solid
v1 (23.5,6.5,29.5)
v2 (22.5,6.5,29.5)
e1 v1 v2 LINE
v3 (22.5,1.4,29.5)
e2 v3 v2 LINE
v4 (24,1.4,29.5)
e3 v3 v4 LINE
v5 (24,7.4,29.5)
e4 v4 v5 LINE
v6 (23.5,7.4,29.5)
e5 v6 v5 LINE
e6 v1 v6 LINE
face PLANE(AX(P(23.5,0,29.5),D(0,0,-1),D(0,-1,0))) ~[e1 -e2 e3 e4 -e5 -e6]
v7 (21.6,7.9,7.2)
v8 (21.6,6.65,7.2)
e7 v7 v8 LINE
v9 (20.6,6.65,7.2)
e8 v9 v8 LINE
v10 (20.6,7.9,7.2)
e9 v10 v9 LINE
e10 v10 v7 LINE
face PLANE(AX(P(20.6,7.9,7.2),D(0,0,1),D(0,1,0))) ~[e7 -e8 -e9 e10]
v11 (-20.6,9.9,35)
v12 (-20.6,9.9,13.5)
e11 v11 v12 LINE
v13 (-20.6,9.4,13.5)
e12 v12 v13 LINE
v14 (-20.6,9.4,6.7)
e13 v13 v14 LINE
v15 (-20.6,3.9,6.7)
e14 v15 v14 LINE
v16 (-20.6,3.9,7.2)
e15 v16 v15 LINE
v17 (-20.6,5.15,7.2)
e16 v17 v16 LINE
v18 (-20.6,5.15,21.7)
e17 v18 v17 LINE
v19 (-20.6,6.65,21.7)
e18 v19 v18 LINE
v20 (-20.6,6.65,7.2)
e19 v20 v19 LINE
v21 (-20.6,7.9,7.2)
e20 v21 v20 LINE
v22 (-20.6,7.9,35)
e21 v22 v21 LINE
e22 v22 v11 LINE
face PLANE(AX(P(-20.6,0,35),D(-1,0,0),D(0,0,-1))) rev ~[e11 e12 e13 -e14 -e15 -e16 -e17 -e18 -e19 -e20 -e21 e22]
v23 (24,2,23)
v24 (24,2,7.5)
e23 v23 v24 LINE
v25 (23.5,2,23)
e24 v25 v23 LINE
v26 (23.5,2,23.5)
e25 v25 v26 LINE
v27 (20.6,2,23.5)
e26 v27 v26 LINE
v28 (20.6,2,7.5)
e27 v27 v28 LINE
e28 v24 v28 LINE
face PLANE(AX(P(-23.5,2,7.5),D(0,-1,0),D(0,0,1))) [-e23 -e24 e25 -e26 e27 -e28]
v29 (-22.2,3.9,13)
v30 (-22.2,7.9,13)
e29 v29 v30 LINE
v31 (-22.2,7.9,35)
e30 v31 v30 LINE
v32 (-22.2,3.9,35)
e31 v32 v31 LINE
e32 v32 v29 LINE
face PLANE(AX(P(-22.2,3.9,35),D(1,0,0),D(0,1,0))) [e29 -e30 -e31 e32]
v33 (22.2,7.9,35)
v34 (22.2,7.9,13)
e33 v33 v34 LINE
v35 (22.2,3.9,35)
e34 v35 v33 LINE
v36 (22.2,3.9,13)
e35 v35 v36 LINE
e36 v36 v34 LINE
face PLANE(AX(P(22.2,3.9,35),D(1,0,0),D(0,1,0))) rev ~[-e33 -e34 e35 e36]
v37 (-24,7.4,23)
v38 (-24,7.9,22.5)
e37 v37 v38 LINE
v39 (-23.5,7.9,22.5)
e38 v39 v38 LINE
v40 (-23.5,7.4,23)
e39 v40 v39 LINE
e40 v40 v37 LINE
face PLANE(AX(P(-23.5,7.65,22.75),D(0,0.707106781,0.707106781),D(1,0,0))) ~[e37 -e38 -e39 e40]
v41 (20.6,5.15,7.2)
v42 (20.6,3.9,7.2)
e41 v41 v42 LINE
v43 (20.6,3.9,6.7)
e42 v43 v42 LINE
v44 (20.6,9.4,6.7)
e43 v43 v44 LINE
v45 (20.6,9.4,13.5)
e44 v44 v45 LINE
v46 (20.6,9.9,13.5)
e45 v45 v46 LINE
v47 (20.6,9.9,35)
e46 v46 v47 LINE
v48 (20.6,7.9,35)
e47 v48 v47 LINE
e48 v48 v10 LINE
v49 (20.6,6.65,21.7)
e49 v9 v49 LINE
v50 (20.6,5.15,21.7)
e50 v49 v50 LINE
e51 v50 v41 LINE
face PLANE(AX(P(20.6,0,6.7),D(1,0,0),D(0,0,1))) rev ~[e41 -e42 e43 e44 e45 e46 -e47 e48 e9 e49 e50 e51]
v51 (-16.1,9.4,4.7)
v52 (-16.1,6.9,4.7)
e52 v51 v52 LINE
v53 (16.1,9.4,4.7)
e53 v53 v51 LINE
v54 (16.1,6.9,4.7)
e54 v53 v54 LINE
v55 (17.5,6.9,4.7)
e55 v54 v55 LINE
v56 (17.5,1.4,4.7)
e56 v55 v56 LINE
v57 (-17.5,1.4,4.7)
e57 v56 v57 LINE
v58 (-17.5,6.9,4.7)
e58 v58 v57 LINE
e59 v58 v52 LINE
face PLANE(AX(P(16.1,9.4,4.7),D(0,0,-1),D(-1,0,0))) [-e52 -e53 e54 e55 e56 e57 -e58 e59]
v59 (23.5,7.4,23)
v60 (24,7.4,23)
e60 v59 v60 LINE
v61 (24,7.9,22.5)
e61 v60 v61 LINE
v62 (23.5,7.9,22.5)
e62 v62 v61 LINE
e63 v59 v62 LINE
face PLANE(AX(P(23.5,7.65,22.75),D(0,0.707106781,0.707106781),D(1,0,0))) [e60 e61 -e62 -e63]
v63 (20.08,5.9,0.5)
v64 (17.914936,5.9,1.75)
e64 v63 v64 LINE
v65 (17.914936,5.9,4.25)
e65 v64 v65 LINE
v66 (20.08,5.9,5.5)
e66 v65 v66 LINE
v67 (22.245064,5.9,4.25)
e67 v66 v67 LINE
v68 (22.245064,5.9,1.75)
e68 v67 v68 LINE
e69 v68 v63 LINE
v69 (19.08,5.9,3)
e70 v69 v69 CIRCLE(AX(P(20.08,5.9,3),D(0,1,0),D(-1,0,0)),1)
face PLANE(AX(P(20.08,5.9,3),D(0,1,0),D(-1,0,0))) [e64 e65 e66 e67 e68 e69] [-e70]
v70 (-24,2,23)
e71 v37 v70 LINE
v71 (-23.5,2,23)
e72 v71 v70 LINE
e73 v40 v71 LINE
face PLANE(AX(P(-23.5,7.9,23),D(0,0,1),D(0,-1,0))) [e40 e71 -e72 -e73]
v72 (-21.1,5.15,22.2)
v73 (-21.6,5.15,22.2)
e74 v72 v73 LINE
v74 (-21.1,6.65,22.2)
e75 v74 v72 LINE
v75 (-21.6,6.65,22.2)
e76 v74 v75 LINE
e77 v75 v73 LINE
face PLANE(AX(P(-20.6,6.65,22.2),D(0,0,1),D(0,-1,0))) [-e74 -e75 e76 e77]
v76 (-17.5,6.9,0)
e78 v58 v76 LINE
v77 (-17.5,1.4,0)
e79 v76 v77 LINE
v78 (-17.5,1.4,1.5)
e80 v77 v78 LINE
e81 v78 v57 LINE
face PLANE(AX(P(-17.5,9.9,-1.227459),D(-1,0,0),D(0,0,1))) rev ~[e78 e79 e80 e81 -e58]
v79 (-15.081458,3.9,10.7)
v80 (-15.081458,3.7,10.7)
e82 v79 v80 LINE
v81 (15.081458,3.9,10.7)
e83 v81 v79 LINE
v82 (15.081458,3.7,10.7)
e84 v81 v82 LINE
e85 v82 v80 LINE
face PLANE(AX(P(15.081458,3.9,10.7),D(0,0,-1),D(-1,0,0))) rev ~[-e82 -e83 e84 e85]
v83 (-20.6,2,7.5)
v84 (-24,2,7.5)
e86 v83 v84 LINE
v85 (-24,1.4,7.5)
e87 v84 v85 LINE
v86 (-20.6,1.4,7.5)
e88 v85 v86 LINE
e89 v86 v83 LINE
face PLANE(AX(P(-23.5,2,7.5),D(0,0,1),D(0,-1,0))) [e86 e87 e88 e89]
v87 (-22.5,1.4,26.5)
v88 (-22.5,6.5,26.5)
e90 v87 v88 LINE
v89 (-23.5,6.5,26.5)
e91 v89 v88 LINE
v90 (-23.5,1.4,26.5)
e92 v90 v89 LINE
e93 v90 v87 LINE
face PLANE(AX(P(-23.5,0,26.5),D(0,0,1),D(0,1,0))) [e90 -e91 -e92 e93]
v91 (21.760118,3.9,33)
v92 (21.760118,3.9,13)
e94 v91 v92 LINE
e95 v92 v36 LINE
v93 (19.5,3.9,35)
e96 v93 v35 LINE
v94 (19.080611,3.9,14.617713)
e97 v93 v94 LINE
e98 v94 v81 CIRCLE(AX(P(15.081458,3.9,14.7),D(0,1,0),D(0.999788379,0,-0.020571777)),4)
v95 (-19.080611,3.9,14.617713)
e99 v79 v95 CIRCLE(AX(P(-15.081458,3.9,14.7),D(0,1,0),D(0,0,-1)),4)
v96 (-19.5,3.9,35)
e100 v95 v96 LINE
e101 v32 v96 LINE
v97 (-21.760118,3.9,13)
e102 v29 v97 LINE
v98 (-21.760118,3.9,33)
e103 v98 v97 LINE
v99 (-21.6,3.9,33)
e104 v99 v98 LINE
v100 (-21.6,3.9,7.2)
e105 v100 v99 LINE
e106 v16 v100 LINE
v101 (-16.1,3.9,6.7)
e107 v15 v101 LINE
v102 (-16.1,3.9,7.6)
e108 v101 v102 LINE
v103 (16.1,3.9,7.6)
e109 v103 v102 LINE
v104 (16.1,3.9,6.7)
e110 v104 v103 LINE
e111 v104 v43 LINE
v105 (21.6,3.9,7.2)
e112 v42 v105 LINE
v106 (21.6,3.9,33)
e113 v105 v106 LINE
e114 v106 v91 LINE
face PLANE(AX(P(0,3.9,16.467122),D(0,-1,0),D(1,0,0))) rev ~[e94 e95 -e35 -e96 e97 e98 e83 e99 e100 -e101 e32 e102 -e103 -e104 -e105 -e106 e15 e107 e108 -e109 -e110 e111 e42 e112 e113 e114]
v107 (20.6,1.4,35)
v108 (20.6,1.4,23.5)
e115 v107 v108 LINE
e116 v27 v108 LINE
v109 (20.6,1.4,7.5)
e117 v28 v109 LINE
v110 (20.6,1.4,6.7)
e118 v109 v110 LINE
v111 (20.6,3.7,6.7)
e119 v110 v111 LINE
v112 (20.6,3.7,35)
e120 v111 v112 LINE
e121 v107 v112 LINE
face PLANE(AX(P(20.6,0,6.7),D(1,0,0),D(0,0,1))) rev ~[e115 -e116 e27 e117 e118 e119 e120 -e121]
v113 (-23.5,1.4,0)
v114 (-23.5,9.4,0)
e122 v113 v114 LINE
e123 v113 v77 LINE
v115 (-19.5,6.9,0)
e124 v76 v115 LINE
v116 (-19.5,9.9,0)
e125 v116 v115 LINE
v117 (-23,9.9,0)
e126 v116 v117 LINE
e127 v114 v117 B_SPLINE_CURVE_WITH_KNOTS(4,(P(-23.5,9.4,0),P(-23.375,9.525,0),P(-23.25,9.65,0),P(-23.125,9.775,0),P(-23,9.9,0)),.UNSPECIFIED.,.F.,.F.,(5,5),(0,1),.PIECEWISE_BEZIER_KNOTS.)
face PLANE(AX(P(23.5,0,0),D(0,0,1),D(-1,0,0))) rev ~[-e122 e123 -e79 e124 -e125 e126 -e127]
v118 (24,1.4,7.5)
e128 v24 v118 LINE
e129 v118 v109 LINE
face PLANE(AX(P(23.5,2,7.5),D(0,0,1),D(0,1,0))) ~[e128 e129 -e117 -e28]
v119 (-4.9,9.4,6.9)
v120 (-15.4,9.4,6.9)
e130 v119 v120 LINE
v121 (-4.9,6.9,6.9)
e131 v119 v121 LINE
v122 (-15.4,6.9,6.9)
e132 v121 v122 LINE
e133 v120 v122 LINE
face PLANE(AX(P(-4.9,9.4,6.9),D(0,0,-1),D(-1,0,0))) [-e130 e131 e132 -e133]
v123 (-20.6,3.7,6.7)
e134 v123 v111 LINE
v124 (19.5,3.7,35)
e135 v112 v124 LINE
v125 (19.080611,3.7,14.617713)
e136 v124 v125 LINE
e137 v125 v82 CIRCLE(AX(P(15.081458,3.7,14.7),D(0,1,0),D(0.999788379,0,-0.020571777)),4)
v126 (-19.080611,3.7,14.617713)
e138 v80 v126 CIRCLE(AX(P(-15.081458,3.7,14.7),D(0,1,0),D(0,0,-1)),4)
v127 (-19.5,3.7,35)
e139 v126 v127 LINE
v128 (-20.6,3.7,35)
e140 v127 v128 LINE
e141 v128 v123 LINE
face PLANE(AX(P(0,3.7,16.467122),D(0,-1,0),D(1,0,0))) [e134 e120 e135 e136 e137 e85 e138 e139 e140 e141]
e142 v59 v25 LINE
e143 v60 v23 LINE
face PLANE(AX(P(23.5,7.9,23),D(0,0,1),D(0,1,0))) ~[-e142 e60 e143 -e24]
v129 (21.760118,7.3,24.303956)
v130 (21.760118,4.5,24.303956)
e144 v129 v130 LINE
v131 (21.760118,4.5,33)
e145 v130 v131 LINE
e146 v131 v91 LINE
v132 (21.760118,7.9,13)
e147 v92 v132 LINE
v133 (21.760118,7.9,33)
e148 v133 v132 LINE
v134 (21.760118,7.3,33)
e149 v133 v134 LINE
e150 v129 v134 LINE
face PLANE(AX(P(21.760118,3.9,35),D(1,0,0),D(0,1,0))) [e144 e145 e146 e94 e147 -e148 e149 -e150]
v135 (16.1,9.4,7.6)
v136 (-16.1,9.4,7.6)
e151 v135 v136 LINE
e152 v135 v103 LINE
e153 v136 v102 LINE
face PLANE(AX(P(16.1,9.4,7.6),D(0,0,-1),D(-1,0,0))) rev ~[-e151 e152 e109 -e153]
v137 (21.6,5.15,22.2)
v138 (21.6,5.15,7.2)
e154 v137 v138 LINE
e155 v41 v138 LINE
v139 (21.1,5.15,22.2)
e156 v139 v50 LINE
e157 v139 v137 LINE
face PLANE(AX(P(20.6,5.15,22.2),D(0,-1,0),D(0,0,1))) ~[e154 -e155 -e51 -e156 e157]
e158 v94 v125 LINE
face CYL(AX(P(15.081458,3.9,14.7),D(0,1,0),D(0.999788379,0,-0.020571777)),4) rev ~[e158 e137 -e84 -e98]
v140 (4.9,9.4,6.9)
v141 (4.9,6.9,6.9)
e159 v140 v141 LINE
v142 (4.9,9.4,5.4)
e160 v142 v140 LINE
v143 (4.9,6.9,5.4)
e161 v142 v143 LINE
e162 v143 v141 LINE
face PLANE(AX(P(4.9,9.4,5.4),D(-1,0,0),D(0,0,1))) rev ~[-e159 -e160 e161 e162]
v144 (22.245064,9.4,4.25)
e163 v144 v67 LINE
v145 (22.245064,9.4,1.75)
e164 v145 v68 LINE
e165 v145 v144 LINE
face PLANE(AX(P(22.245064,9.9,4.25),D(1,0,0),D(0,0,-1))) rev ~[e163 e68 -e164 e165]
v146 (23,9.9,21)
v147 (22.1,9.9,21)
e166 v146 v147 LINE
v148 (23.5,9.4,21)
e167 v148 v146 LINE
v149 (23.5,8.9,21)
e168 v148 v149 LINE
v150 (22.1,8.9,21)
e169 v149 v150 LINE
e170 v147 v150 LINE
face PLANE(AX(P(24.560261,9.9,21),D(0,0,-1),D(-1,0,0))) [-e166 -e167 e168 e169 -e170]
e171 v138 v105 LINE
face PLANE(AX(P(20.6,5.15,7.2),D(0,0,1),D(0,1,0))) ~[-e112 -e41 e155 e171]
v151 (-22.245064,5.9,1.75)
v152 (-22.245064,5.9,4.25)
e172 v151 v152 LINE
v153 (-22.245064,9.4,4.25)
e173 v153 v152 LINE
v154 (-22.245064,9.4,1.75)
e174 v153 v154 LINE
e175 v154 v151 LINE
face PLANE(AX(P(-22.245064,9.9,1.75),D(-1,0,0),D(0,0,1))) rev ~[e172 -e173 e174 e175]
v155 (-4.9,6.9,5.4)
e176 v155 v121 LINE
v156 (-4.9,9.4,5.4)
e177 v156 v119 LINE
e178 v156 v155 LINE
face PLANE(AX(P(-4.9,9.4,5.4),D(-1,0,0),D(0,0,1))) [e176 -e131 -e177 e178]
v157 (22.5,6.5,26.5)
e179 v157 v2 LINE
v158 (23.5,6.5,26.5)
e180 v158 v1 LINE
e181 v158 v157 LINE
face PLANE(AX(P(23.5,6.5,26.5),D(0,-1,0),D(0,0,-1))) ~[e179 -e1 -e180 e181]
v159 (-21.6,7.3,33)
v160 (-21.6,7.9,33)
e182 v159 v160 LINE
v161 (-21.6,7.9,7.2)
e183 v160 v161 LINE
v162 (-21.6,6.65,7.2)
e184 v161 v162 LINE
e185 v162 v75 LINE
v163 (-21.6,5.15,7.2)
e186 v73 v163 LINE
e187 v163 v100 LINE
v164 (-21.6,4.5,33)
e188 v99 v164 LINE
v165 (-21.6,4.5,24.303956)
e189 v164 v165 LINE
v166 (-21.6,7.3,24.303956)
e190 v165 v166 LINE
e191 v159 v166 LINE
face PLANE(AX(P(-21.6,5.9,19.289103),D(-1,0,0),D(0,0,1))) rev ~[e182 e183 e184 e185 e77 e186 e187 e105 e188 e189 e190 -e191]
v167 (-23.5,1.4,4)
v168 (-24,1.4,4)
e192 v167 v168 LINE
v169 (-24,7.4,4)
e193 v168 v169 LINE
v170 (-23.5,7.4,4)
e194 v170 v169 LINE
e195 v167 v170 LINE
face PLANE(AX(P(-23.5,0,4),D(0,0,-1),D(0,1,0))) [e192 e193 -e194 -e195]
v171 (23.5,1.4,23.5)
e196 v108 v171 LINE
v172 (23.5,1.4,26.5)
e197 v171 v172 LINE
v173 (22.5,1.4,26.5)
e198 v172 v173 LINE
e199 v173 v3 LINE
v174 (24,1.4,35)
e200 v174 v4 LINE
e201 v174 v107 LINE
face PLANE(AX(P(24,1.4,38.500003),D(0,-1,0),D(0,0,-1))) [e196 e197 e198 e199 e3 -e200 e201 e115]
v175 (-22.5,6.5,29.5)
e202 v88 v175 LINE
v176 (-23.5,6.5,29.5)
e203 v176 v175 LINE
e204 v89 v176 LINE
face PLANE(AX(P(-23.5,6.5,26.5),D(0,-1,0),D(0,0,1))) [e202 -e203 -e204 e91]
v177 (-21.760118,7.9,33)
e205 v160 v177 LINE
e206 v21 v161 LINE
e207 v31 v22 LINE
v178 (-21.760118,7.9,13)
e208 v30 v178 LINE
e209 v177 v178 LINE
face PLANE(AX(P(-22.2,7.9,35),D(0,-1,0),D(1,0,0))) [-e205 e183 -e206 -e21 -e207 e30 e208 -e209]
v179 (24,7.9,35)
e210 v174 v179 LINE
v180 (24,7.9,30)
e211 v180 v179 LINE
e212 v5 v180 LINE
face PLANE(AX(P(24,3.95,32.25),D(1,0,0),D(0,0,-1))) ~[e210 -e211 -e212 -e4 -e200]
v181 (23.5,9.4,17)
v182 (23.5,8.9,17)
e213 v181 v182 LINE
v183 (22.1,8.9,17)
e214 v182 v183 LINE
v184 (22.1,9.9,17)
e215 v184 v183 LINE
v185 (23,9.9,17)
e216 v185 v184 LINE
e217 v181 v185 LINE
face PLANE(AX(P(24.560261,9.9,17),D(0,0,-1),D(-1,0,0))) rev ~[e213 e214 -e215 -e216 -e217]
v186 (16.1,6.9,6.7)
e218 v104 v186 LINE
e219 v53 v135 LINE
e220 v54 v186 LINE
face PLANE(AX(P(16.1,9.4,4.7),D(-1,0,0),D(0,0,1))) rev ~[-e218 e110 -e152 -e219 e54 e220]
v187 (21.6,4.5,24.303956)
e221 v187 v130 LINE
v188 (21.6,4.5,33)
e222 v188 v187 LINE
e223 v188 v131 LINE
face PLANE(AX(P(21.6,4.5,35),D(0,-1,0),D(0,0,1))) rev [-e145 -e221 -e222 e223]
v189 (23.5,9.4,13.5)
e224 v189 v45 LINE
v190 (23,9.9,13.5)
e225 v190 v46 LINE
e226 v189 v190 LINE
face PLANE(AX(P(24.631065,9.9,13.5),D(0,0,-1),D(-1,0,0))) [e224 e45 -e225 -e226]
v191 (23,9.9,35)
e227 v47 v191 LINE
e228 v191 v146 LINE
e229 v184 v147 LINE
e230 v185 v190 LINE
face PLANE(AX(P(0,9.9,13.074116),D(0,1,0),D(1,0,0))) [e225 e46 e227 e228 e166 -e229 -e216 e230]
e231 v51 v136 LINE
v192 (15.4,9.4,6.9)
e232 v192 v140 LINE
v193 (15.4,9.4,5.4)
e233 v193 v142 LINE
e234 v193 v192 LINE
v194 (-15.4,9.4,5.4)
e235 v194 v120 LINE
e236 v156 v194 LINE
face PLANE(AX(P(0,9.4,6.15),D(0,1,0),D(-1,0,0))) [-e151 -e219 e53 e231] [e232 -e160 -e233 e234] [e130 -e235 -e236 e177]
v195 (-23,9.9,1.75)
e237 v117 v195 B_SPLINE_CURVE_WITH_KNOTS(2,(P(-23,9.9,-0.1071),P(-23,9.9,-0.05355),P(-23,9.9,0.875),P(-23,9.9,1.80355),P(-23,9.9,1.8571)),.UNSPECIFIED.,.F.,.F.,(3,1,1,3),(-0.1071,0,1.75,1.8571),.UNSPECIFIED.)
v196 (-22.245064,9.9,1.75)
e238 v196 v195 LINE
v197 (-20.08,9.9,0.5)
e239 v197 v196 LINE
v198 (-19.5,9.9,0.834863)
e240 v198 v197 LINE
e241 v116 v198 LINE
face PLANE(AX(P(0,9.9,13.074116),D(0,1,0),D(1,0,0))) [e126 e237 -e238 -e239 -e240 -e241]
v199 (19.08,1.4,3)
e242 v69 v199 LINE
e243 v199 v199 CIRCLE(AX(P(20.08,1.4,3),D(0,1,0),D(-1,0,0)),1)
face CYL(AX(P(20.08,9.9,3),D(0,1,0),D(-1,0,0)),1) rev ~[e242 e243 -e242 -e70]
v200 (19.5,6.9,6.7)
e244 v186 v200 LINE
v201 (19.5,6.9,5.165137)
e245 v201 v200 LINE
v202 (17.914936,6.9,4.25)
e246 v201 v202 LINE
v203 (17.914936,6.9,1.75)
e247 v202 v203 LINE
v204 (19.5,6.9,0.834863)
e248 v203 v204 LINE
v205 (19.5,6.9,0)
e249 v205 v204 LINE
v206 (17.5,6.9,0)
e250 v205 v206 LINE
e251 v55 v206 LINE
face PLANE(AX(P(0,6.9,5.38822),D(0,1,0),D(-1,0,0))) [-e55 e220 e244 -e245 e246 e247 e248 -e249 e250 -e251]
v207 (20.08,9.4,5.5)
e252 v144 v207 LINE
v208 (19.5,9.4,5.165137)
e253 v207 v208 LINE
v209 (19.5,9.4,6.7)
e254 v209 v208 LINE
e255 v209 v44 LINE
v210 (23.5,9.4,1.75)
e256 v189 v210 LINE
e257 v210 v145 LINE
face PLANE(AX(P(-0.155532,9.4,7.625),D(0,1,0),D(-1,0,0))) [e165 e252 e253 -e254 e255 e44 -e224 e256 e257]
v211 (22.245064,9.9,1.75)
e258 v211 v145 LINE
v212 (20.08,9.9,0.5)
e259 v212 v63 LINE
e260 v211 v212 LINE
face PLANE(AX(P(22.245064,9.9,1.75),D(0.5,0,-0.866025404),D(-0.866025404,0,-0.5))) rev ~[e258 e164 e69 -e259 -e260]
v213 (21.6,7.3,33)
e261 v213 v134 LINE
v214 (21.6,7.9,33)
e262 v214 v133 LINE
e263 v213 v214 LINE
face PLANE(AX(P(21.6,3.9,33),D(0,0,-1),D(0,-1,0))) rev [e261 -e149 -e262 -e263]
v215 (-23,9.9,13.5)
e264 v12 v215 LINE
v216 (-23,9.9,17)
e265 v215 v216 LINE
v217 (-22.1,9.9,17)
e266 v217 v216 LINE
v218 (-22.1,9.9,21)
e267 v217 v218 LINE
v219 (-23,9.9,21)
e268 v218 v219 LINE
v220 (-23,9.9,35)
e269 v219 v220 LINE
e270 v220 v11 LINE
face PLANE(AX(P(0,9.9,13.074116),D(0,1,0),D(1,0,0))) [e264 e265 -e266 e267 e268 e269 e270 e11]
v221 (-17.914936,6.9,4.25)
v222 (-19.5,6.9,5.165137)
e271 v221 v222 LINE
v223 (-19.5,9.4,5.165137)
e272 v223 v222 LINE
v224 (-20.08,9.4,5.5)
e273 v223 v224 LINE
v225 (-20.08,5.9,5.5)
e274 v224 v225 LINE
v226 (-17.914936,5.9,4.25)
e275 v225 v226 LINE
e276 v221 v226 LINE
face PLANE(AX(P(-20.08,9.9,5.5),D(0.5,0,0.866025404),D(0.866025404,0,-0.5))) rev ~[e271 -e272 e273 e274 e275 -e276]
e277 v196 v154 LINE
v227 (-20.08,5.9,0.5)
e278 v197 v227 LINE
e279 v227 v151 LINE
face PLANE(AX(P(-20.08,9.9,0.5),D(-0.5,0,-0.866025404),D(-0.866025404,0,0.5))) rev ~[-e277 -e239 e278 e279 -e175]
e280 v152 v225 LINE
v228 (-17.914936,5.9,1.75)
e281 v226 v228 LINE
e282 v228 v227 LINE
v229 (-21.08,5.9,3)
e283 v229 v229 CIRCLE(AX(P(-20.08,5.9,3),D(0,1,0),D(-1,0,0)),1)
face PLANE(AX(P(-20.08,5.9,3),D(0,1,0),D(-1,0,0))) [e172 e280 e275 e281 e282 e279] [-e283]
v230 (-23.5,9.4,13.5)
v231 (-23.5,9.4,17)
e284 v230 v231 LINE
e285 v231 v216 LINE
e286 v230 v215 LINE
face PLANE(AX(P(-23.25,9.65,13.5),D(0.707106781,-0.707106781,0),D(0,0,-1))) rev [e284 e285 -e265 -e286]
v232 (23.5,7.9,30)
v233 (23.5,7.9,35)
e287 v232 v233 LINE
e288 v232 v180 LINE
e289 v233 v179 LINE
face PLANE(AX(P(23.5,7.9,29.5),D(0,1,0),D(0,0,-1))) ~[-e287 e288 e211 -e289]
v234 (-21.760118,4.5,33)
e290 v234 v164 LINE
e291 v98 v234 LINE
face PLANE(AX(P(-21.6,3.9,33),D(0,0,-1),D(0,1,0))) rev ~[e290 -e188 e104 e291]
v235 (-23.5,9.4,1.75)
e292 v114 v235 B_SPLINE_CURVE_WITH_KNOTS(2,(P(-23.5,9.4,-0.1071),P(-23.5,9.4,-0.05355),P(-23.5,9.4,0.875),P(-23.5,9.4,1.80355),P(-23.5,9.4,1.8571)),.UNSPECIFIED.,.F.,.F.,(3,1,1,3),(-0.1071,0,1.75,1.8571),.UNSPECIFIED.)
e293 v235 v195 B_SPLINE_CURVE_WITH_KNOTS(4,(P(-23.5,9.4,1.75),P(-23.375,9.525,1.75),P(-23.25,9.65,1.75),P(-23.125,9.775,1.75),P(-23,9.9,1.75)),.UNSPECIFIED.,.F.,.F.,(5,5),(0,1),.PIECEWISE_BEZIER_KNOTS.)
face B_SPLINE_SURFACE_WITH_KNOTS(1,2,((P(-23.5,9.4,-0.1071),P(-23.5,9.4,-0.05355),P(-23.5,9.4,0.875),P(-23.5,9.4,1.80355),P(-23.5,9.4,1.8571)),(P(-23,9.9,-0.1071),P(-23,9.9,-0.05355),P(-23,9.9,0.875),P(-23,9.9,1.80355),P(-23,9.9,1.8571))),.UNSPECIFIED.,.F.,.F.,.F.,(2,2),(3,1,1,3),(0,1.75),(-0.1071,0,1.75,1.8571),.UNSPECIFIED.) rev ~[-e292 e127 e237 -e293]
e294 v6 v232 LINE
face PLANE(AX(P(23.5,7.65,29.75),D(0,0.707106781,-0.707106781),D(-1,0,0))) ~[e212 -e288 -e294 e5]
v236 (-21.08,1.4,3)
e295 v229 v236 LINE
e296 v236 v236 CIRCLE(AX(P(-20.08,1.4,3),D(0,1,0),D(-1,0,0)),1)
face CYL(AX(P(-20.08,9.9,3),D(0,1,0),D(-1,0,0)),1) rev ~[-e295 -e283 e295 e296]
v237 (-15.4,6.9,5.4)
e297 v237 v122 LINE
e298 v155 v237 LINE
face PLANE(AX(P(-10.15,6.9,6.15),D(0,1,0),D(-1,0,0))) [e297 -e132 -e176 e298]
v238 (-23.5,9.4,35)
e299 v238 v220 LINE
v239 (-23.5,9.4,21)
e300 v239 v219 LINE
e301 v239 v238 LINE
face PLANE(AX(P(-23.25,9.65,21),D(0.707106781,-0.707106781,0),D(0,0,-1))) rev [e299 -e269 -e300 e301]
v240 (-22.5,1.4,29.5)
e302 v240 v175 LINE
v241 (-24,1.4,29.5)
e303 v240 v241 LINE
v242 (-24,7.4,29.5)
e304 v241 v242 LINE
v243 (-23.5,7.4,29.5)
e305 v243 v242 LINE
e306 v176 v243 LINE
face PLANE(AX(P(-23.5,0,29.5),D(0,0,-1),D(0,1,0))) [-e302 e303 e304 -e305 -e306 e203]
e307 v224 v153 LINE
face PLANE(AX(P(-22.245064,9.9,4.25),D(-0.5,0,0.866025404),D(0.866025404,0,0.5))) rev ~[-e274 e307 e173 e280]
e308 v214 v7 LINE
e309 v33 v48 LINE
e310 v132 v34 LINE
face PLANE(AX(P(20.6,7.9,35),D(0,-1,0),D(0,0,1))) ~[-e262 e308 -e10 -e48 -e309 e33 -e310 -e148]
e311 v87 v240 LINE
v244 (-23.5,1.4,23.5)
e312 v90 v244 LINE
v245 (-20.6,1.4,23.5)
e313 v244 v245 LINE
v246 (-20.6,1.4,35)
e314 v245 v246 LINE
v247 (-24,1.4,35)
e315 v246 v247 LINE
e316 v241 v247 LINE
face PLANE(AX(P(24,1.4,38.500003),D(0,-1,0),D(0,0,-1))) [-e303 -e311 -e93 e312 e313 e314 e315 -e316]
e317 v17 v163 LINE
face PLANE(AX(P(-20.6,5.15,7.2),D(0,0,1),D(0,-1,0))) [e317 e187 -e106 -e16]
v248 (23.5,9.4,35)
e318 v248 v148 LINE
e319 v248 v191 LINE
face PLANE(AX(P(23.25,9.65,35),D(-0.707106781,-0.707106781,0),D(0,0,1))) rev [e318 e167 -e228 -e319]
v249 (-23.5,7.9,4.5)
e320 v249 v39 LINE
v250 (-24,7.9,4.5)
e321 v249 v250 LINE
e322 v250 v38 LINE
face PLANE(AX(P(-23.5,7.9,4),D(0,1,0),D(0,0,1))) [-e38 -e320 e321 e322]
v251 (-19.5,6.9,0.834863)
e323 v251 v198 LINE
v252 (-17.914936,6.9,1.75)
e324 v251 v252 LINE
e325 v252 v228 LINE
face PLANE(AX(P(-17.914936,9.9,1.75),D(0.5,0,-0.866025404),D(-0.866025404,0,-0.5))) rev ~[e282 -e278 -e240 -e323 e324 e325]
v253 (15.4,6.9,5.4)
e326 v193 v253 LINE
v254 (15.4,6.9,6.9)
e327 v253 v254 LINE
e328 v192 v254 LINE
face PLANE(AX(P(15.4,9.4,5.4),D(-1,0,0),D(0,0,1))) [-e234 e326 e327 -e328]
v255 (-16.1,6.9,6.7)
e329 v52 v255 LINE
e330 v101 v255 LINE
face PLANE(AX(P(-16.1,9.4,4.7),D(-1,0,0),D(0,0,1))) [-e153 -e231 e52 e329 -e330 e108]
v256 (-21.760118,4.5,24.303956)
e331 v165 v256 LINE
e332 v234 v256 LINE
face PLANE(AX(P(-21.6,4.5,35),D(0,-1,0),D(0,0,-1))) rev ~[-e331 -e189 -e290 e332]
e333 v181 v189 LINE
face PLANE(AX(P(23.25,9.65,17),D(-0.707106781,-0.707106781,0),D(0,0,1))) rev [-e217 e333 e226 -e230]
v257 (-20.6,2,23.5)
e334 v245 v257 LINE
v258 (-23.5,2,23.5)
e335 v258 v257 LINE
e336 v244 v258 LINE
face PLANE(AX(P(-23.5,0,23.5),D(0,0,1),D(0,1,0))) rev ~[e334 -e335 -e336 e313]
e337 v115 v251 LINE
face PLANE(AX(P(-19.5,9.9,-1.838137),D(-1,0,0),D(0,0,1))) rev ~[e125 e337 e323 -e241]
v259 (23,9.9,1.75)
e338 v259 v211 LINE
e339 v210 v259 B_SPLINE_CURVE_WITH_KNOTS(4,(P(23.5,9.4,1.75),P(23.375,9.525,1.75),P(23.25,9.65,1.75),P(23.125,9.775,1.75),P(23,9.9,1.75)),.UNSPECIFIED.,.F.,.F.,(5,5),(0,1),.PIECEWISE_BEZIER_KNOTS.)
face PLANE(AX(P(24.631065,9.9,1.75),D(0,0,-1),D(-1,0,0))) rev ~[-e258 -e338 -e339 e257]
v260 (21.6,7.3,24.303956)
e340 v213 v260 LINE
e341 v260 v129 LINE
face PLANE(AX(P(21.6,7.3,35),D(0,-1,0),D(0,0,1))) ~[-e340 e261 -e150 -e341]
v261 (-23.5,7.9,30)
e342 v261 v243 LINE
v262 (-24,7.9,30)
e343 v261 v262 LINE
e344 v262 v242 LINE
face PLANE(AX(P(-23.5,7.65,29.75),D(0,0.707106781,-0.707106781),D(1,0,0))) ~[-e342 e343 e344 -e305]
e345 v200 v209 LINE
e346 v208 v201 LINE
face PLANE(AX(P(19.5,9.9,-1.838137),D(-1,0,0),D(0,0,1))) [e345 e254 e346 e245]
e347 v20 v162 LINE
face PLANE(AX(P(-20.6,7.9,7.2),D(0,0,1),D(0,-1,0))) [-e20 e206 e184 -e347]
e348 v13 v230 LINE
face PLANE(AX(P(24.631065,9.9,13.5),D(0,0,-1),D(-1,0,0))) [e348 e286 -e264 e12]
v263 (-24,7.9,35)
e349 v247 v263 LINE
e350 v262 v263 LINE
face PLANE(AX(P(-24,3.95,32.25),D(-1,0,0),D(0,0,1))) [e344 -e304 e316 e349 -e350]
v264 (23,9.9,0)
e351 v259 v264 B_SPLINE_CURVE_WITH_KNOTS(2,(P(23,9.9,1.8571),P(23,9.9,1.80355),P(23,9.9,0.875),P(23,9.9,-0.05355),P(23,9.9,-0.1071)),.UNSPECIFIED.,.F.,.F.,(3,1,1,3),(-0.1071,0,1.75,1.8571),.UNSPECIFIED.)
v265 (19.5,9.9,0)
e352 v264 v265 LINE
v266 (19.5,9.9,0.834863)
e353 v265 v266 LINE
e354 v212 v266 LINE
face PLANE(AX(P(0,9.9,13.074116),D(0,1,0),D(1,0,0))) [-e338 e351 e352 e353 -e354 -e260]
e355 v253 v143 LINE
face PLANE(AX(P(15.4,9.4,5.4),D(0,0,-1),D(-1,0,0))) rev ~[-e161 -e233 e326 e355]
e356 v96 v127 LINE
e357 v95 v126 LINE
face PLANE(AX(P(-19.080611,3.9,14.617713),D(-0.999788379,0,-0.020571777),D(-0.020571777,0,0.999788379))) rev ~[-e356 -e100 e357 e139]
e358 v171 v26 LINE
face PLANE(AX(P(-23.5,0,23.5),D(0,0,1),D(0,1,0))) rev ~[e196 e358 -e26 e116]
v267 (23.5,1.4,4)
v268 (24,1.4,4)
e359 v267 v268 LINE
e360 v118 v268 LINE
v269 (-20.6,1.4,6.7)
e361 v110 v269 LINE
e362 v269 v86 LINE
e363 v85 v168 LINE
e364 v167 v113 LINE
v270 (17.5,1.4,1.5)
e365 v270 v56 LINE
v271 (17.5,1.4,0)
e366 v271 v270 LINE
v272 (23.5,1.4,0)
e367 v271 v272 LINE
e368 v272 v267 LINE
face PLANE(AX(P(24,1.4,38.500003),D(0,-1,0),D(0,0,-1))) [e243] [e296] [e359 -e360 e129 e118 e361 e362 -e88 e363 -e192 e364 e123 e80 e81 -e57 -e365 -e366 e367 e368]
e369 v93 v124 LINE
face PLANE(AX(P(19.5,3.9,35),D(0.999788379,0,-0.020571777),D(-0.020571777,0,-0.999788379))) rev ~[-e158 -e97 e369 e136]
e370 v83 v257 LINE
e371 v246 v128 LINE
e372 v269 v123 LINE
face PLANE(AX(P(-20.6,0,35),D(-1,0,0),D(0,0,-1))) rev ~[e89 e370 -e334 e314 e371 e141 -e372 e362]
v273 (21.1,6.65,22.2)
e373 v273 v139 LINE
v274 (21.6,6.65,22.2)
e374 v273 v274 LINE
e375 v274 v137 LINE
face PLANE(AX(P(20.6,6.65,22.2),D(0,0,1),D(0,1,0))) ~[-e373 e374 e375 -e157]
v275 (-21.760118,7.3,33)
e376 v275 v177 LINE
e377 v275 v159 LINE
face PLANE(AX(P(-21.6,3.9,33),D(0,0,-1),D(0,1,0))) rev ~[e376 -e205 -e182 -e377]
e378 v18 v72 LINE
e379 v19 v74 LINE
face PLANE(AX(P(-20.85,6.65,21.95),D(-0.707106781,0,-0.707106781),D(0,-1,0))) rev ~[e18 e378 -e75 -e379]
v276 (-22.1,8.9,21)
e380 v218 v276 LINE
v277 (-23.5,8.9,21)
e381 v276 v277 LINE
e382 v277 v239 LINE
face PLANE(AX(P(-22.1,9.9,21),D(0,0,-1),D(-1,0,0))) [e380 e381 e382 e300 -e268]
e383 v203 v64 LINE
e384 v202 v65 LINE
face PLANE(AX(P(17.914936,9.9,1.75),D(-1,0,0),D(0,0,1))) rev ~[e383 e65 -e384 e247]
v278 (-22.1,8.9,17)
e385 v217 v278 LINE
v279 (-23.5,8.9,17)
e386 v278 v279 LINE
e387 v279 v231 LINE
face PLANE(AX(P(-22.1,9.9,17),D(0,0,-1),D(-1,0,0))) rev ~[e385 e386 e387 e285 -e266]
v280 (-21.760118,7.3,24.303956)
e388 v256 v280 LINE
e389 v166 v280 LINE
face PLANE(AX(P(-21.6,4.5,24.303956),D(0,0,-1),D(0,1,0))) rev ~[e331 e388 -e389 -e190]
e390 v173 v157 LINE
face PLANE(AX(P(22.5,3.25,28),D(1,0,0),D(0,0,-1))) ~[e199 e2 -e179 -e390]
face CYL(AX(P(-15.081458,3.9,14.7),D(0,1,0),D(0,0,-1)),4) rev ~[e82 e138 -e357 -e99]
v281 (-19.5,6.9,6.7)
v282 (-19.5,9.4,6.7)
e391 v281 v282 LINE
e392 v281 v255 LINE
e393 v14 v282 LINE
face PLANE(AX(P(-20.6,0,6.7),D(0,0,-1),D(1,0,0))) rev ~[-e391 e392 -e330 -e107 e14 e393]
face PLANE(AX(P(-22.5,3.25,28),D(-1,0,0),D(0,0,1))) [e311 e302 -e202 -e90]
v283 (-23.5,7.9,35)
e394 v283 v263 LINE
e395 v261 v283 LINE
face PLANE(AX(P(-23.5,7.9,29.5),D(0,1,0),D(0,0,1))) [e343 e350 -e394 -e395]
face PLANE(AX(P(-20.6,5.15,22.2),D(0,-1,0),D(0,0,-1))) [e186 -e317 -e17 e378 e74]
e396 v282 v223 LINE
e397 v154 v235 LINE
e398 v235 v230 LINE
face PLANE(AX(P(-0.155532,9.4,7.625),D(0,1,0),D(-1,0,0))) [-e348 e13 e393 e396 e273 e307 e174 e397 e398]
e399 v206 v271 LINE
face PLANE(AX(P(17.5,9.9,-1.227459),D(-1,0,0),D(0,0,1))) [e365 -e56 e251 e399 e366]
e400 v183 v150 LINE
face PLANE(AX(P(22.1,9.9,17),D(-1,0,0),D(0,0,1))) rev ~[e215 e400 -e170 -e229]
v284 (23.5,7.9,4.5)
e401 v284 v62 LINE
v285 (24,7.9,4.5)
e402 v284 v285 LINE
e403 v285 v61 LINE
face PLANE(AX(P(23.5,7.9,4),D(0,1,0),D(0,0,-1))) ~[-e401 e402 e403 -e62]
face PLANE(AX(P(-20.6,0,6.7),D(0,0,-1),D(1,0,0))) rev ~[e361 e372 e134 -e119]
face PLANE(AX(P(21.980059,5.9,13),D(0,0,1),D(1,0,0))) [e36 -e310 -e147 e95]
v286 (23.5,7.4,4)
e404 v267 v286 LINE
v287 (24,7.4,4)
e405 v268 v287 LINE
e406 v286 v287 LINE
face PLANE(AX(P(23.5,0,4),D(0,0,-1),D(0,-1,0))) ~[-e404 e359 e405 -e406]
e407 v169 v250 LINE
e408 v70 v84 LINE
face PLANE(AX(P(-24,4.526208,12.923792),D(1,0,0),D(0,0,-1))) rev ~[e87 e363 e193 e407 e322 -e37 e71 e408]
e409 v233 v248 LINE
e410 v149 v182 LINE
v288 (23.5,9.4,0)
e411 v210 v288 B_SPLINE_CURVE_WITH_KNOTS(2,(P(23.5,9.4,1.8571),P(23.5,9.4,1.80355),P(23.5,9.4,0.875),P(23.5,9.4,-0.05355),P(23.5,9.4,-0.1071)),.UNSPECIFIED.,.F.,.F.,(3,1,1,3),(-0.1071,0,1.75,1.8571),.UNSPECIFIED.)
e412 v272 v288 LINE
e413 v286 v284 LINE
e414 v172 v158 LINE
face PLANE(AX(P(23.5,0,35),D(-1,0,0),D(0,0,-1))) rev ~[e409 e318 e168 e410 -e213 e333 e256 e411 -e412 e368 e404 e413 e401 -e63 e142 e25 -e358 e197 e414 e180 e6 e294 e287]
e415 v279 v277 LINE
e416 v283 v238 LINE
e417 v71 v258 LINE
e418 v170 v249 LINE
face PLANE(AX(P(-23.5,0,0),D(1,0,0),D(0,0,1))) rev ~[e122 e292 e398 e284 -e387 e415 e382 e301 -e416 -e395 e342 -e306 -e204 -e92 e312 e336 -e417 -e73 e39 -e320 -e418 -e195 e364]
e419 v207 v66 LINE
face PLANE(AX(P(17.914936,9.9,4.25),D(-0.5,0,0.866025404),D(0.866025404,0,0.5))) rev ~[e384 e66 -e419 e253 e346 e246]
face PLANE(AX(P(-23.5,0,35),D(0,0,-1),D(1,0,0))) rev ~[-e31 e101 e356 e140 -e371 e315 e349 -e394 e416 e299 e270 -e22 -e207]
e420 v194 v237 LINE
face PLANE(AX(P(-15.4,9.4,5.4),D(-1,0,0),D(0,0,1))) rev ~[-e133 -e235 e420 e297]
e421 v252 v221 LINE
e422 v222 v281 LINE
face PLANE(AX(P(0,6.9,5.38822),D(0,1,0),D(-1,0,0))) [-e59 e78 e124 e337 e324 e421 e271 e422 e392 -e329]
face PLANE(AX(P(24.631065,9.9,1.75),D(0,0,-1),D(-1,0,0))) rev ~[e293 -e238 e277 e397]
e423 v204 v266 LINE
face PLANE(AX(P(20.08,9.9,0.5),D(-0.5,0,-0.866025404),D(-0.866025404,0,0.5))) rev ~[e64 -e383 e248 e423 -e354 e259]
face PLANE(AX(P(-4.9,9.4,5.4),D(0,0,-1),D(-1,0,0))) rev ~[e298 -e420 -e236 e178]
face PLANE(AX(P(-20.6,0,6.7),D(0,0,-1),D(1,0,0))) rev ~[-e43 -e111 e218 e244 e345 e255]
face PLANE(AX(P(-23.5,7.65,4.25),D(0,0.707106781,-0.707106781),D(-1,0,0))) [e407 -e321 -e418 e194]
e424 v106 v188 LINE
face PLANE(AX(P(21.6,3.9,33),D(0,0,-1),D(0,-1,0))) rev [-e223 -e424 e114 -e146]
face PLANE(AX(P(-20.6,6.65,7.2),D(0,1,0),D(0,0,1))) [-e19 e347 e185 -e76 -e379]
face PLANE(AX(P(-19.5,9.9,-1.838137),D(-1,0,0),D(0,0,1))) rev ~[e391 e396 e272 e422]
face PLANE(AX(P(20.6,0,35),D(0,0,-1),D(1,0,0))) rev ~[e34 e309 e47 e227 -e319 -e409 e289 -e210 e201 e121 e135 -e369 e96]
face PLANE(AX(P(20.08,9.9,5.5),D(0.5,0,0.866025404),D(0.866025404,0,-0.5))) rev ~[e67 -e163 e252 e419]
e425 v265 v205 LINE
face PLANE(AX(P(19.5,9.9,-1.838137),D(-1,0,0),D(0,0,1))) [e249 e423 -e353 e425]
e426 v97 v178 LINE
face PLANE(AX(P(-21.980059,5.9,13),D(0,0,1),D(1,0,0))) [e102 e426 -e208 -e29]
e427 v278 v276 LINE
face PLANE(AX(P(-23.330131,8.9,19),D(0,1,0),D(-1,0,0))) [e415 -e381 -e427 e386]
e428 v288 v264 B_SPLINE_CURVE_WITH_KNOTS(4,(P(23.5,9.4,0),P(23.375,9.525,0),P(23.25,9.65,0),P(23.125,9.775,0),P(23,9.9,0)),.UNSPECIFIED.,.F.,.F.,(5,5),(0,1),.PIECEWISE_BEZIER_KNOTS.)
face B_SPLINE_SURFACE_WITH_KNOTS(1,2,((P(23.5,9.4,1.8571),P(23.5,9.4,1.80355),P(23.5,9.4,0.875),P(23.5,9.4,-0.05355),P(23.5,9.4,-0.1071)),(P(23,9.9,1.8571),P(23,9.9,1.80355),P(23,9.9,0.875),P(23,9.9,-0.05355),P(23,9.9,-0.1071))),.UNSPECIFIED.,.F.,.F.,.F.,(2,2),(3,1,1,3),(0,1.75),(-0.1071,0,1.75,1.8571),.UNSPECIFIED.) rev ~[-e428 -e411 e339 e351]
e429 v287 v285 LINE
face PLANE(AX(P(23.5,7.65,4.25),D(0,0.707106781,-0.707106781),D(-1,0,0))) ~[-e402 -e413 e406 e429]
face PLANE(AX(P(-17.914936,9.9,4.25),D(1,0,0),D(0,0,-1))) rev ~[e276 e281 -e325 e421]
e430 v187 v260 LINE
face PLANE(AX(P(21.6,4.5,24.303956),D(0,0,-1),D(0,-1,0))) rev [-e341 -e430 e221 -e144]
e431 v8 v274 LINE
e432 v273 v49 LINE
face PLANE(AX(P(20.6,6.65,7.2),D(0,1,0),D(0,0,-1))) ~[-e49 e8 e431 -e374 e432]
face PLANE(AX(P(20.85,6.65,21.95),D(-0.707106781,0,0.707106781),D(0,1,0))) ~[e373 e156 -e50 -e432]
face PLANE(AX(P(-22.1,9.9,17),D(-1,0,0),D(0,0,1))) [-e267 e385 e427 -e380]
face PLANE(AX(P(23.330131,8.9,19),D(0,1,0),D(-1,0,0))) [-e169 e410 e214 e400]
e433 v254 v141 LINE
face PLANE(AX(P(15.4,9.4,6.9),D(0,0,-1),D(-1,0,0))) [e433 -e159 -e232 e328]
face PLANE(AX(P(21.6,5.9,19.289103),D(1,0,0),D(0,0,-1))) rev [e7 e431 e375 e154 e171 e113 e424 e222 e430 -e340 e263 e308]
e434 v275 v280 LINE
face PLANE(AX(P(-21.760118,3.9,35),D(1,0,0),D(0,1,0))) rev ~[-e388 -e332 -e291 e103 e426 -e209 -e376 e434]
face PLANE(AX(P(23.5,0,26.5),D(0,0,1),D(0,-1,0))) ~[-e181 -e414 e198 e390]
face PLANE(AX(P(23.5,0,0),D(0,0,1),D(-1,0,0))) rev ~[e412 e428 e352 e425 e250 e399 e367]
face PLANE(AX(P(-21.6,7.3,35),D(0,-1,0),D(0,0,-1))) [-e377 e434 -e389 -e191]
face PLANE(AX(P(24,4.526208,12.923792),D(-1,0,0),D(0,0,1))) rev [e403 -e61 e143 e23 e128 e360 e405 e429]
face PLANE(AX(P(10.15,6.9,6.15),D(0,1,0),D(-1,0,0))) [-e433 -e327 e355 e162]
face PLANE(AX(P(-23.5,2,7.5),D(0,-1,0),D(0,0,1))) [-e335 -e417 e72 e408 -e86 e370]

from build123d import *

# Parameters (mm, degrees)
EXTRUIR1_DEPTH         = 9.9
CROQUIS2_R             = 1
CORTAR_EXTRUIR1_DEPTH  = 15.9
CORTAR_EXTRUIR2_DEPTH  = 4
CROQUIS4_W             = 35
CROQUIS4_H             = 2.727458855
CORTAR_EXTRUIR3_DEPTH  = 24
CROQUIS5_W             = 35
CROQUIS5_H             = 3.2
CORTAR_EXTRUIR4_DEPTH  = 8.5
CROQUIS6_W             = 39
CROQUIS6_H             = 14.452712812
CORTAR_EXTRUIR5_DEPTH  = 3
EXTRUIR2_DEPTH         = 0.2
CROQUIS8_W             = 49.57319474
CROQUIS8_H             = 11.75
CORTAR_EXTRUIR6_DEPTH  = 0.5
CROQUIS9_W             = 2.460261438
CROQUIS9_H             = 4
CORTAR_EXTRUIR7_DEPTH  = 1
CHAFL_N1_SIZE          = 0.5
CHAFL_N2_SIZE          = 0.5
CROQUIS10_W            = 32.2
CROQUIS10_H            = 2.9
EXTRUIR3_DEPTH         = 5.5
CROQUIS11_W            = 10.5
CROQUIS11_H            = 1.5
CORTAR_EXTRUIR8_DEPTH  = 2.5
CROQUIS12_W            = 16
CROQUIS12_H            = 2
CORTAR_EXTRUIR9_DEPTH  = 57.5
CROQUIS13_W            = 35
CROQUIS13_H            = 3.2
CORTAR_EXTRUIR10_DEPTH = 0.7
CROQUIS15_W            = 5.5
CROQUIS15_H            = 7.9
EXTRUIR4_DEPTH         = 0.5
CHAFL_N3_SIZE          = 0.5
CROQUIS16_W            = 3
CROQUIS16_H            = 6.5
CORTAR_EXTRUIR11_DEPTH = 1
CHAFL_N4_SIZE          = 0.5
CORTAR_EXTRUIR12_DEPTH = 1
CHAFL_N5_SIZE          = 0.5
CHAFL_N6_SIZE          = 0.5
CROQUIS18_W            = 0.4398817
CROQUIS18_H            = 4
CORTAR_EXTRUIR13_DEPTH = 22
CROQUIS19_W            = 10.696044144
CROQUIS19_H            = 2.8
CORTAR_EXTRUIR14_DEPTH = 0.2
CROQUIS20_W            = 2
CROQUIS20_H            = 4
CORTAR_EXTRUIR15_DEPTH = 0.2
CROQUIS21_W            = 42.865199157
CROQUIS21_H            = 3.067417921
CORTAR_EXTRUIR16_DEPTH = 58


with BuildPart() as part:
    # Croquis1 → Extruir1 (new body)
    with BuildSketch(Plane(origin=(0, 0, 0), x_dir=(1, 0, 0), z_dir=(0, 1, 0))):
        Polygon((23.5, 0), (-23.5, 0), (-23.5, -35), (-20.6, -35), (-20.6, -6.7), (20.6, -6.7), (20.6, -35), (23.5, -35), align=None)
    extrude(amount=EXTRUIR1_DEPTH)

    # Croquis2 → Cortar-Extruir1 (cut)
    with BuildSketch(Plane(origin=(0, 9.9, 0), x_dir=(-1, 0, 0), z_dir=(0, 1, 0))):
        with Locations((-20.08, 3)):
            Circle(CROQUIS2_R)
        with Locations((20.08, 3)):
            Circle(CROQUIS2_R)
    extrude(amount=-CORTAR_EXTRUIR1_DEPTH, mode=Mode.SUBTRACT)

    # Croquis3 → Cortar-Extruir2 (cut)
    with BuildSketch(Plane(origin=(0, 9.9, 0), x_dir=(-1, 0, 0), z_dir=(0, 1, 0))):
        Polygon((-20.08, 5.5), (-22.245063509, 4.25), (-22.245063509, 1.75), (-20.08, 0.5), (-17.914936491, 1.75), (-17.914936491, 4.25), align=None)
        Polygon((20.08, 5.5), (17.914936491, 4.25), (17.914936491, 1.75), (20.08, 0.5), (22.245063509, 1.75), (22.245063509, 4.25), align=None)
    extrude(amount=-CORTAR_EXTRUIR2_DEPTH, mode=Mode.SUBTRACT)

    # Croquis4 → Cortar-Extruir3 (cut)
    with BuildSketch(Plane(origin=(0, 9.9, 0), x_dir=(-1, 0, 0), z_dir=(0, 1, 0))):
        with Locations((0, 0.136270572)):
            Rectangle(CROQUIS4_W, CROQUIS4_H)
    extrude(amount=-CORTAR_EXTRUIR3_DEPTH, mode=Mode.SUBTRACT)

    # Croquis5 → Cortar-Extruir4 (cut)
    with BuildSketch(Plane(origin=(0, 9.9, 0), x_dir=(-1, 0, 0), z_dir=(0, 1, 0))):
        with Locations((0, 3.1)):
            Rectangle(CROQUIS5_W, CROQUIS5_H)
    extrude(amount=-CORTAR_EXTRUIR4_DEPTH, mode=Mode.SUBTRACT)

    # Croquis6 → Cortar-Extruir5 (cut)
    with BuildSketch(Plane(origin=(0, 9.9, 0), x_dir=(-1, 0, 0), z_dir=(0, 1, 0))):
        with Locations((0, 5.388219545)):
            Rectangle(CROQUIS6_W, CROQUIS6_H)
    extrude(amount=-CORTAR_EXTRUIR5_DEPTH, mode=Mode.SUBTRACT)

    # Croquis7 → Extruir2 (add)
    with BuildSketch(Plane(origin=(0, 3.9, 0), x_dir=(-1, 0, 0), z_dir=(0, 1, 0))):
        with BuildLine():
            Line((-20.6, 35), (-19.5, 35))
            Line((-19.5, 35), (-19.080611376, 14.617712891))
            ThreePointArc((-19.080611376, 14.617712891), (-17.880640918, 11.842628092), (-15.081457862, 10.7))
            Line((-15.081457862, 10.7), (15.081457862, 10.7))
            ThreePointArc((15.081457862, 10.7), (17.880640918, 11.842628092), (19.080611376, 14.617712891))
            Line((19.080611376, 14.617712891), (19.5, 35))
            Line((19.5, 35), (20.6, 35))
            Line((20.6, 35), (20.6, 6.7))
            Line((20.6, 6.7), (-20.6, 6.7))
            Line((-20.6, 6.7), (-20.6, 35))
        make_face()
    extrude(amount=-EXTRUIR2_DEPTH)

    # Croquis8 → Cortar-Extruir6 (cut)
    with BuildSketch(Plane(origin=(0, 9.9, 0), x_dir=(-1, 0, 0), z_dir=(0, 1, 0))):
        with Locations((0.155531932, 7.625)):
            Rectangle(CROQUIS8_W, CROQUIS8_H)
    extrude(amount=-CORTAR_EXTRUIR6_DEPTH, mode=Mode.SUBTRACT)

    # Croquis9 → Cortar-Extruir7 (cut)
    with BuildSketch(Plane(origin=(0, 9.9, 0), x_dir=(-1, 0, 0), z_dir=(0, 1, 0))):
        with Locations((23.330130719, 19)):
            Rectangle(CROQUIS9_W, CROQUIS9_H)
        with Locations((-23.330130719, 19)):
            Rectangle(CROQUIS9_W, CROQUIS9_H)
    extrude(amount=-CORTAR_EXTRUIR7_DEPTH, mode=Mode.SUBTRACT)

    # Chaflán1
    chafl_n1_edges = [part.edges().sort_by_distance(p)[0] for p in [
        (23.5, 9.9, 15.25),
        (23.5, 9.9, 28),
        (-23.5, 9.9, 28),
        (-23.5, 9.9, 15.25),
    ]]
    chamfer(chafl_n1_edges, length=CHAFL_N1_SIZE)

    # Chaflán2
    chafl_n2_edges = [part.edges().sort_by_distance(p)[0] for p in [
        (23.5, 9.9, 0.875),
        (-23.5, 9.9, 0.875),
    ]]
    chamfer(chafl_n2_edges, length=CHAFL_N2_SIZE)

    # Croquis10 → Extruir3 (add)
    with BuildSketch(Plane(origin=(0, 9.4, 0), x_dir=(-1, 0, 0), z_dir=(0, 1, 0))):
        with Locations((0, 6.15)):
            Rectangle(CROQUIS10_W, CROQUIS10_H)
    extrude(amount=-EXTRUIR3_DEPTH)

    # Croquis11 → Cortar-Extruir8 (cut)
    with BuildSketch(Plane(origin=(0, 9.4, 0), x_dir=(-1, 0, 0), z_dir=(0, 1, 0))):
        with Locations((-10.15, 6.15)):
            Rectangle(CROQUIS11_W, CROQUIS11_H)
        with Locations((10.15, 6.15)):
            Rectangle(CROQUIS11_W, CROQUIS11_H)
    extrude(amount=-CORTAR_EXTRUIR8_DEPTH, mode=Mode.SUBTRACT)

    # Croquis12 → Cortar-Extruir9 (cut)
    with BuildSketch(Plane.ZY.offset(23.5)):
        with Locations((15.5, 1)):
            Rectangle(CROQUIS12_W, CROQUIS12_H)
    extrude(amount=-CORTAR_EXTRUIR9_DEPTH, mode=Mode.SUBTRACT)

    # Croquis13 → Cortar-Extruir10 (cut)
    with BuildSketch(Plane.XZ):
        with Locations((0, 3.1)):
            Rectangle(CROQUIS13_W, CROQUIS13_H)
    extrude(amount=-CORTAR_EXTRUIR10_DEPTH, mode=Mode.SUBTRACT)

    # Croquis15 → Extruir4 (add)
    with BuildSketch(Plane.ZY.offset(23.5)):
        Polygon((4, 0), (4, 7.9), (23, 7.9), (23, 2), (7.5, 2), (7.5, 0), align=None)
        with Locations((32.25, 3.95)):
            Rectangle(CROQUIS15_W, CROQUIS15_H)
    extruir4 = extrude(amount=EXTRUIR4_DEPTH)

    # Chaflán3
    chafl_n3_edges = [part.edges().sort_by_distance(p)[0] for p in [
        (-23.75, 7.9, 29.5),
        (-23.75, 7.9, 23),
        (-23.75, 7.9, 4),
    ]]
    chamfer(chafl_n3_edges, length=CHAFL_N3_SIZE)

    # Croquis16 → Cortar-Extruir11 (cut)
    with BuildSketch(Plane.ZY.offset(23.5)):
        with Locations((28, 3.25)):
            Rectangle(CROQUIS16_W, CROQUIS16_H)
    cortar_extruir11 = extrude(amount=-CORTAR_EXTRUIR11_DEPTH, mode=Mode.SUBTRACT)

    # Simetría1: Extruir4, Cortar-Extruir11 across plane
    add(extruir4.mirror(Plane(origin=(0, 0, 0), x_dir=(0, 0, 1), z_dir=(1, 0, 0))))
    add(cortar_extruir11.mirror(Plane(origin=(0, 0, 0), x_dir=(0, 0, 1), z_dir=(1, 0, 0))), mode=Mode.SUBTRACT)

    # Chaflán4
    chafl_n4_edges = [part.edges().sort_by_distance(p)[0] for p in [
        (23.75, 7.9, 4),
        (23.75, 7.9, 23),
        (23.75, 7.9, 29.5),
    ]]
    chamfer(chafl_n4_edges, length=CHAFL_N4_SIZE)

    # Croquis17 → Cortar-Extruir12 (cut)
    with BuildSketch(Plane(origin=(-20.6, 0, 0), x_dir=(0, 0, -1), z_dir=(1, 0, 0))):
        Polygon((-35, 7.9), (-7.2, 7.9), (-7.2, 6.65), (-22.2, 6.65), (-22.2, 5.15), (-7.2, 5.15), (-7.2, 3.9), (-35, 3.9), align=None)
    cortar_extruir12 = extrude(amount=-CORTAR_EXTRUIR12_DEPTH, mode=Mode.SUBTRACT)

    # Chaflán5
    chafl_n5_edges = [part.edges().sort_by_distance(p)[0] for p in [
        (-20.6, 5.9, 22.2),
    ]]
    chamfer(chafl_n5_edges, length=CHAFL_N5_SIZE)

    # Simetría2: Cortar-Extruir12 across plane
    add(cortar_extruir12.mirror(Plane(origin=(0, 0, 0), x_dir=(0, 0, 1), z_dir=(1, 0, 0))), mode=Mode.SUBTRACT)

    # Chaflán6
    chafl_n6_edges = [part.edges().sort_by_distance(p)[0] for p in [
        (20.6, 5.9, 22.2),
    ]]
    chamfer(chafl_n6_edges, length=CHAFL_N6_SIZE)

    # Croquis18 → Cortar-Extruir13 (cut)
    with BuildSketch(Plane.XY.offset(35)):
        with Locations((-21.98005915, 5.9)):
            Rectangle(CROQUIS18_W, CROQUIS18_H)
        with Locations((21.98005915, 5.9)):
            Rectangle(CROQUIS18_W, CROQUIS18_H)
    extrude(amount=-CORTAR_EXTRUIR13_DEPTH, mode=Mode.SUBTRACT)

    # Croquis19 → Cortar-Extruir14 (cut)
    with BuildSketch(Plane(origin=(-21.6, 0, 0), x_dir=(0, 0, -1), z_dir=(1, 0, 0))):
        with Locations((-29.651977928, 5.9)):
            Rectangle(CROQUIS19_W, CROQUIS19_H)
    cortar_extruir14 = extrude(amount=-CORTAR_EXTRUIR14_DEPTH, mode=Mode.SUBTRACT)

    # Croquis20 → Cortar-Extruir15 (cut)
    with BuildSketch(Plane(origin=(-21.6, 0, 0), x_dir=(0, 0, -1), z_dir=(1, 0, 0))):
        with Locations((-34, 5.9)):
            Rectangle(CROQUIS20_W, CROQUIS20_H)
    cortar_extruir15 = extrude(amount=-CORTAR_EXTRUIR15_DEPTH, mode=Mode.SUBTRACT)

    # Simetría3: Cortar-Extruir14, Cortar-Extruir15 across plane
    add(cortar_extruir14.mirror(Plane(origin=(0, 0, 0), x_dir=(0, 0, 1), z_dir=(1, 0, 0))), mode=Mode.SUBTRACT)
    add(cortar_extruir15.mirror(Plane(origin=(0, 0, 0), x_dir=(0, 0, 1), z_dir=(1, 0, 0))), mode=Mode.SUBTRACT)

    # Croquis21 → Cortar-Extruir16 (cut)
    with BuildSketch(Plane(origin=(24, 0, 0), x_dir=(0, 0, -1), z_dir=(1, 0, 0))):
        with Locations((-17.067402922, -0.133708961)):
            Rectangle(CROQUIS21_W, CROQUIS21_H)
    extrude(amount=-CORTAR_EXTRUIR16_DEPTH, mode=Mode.SUBTRACT)


solid = part.part
